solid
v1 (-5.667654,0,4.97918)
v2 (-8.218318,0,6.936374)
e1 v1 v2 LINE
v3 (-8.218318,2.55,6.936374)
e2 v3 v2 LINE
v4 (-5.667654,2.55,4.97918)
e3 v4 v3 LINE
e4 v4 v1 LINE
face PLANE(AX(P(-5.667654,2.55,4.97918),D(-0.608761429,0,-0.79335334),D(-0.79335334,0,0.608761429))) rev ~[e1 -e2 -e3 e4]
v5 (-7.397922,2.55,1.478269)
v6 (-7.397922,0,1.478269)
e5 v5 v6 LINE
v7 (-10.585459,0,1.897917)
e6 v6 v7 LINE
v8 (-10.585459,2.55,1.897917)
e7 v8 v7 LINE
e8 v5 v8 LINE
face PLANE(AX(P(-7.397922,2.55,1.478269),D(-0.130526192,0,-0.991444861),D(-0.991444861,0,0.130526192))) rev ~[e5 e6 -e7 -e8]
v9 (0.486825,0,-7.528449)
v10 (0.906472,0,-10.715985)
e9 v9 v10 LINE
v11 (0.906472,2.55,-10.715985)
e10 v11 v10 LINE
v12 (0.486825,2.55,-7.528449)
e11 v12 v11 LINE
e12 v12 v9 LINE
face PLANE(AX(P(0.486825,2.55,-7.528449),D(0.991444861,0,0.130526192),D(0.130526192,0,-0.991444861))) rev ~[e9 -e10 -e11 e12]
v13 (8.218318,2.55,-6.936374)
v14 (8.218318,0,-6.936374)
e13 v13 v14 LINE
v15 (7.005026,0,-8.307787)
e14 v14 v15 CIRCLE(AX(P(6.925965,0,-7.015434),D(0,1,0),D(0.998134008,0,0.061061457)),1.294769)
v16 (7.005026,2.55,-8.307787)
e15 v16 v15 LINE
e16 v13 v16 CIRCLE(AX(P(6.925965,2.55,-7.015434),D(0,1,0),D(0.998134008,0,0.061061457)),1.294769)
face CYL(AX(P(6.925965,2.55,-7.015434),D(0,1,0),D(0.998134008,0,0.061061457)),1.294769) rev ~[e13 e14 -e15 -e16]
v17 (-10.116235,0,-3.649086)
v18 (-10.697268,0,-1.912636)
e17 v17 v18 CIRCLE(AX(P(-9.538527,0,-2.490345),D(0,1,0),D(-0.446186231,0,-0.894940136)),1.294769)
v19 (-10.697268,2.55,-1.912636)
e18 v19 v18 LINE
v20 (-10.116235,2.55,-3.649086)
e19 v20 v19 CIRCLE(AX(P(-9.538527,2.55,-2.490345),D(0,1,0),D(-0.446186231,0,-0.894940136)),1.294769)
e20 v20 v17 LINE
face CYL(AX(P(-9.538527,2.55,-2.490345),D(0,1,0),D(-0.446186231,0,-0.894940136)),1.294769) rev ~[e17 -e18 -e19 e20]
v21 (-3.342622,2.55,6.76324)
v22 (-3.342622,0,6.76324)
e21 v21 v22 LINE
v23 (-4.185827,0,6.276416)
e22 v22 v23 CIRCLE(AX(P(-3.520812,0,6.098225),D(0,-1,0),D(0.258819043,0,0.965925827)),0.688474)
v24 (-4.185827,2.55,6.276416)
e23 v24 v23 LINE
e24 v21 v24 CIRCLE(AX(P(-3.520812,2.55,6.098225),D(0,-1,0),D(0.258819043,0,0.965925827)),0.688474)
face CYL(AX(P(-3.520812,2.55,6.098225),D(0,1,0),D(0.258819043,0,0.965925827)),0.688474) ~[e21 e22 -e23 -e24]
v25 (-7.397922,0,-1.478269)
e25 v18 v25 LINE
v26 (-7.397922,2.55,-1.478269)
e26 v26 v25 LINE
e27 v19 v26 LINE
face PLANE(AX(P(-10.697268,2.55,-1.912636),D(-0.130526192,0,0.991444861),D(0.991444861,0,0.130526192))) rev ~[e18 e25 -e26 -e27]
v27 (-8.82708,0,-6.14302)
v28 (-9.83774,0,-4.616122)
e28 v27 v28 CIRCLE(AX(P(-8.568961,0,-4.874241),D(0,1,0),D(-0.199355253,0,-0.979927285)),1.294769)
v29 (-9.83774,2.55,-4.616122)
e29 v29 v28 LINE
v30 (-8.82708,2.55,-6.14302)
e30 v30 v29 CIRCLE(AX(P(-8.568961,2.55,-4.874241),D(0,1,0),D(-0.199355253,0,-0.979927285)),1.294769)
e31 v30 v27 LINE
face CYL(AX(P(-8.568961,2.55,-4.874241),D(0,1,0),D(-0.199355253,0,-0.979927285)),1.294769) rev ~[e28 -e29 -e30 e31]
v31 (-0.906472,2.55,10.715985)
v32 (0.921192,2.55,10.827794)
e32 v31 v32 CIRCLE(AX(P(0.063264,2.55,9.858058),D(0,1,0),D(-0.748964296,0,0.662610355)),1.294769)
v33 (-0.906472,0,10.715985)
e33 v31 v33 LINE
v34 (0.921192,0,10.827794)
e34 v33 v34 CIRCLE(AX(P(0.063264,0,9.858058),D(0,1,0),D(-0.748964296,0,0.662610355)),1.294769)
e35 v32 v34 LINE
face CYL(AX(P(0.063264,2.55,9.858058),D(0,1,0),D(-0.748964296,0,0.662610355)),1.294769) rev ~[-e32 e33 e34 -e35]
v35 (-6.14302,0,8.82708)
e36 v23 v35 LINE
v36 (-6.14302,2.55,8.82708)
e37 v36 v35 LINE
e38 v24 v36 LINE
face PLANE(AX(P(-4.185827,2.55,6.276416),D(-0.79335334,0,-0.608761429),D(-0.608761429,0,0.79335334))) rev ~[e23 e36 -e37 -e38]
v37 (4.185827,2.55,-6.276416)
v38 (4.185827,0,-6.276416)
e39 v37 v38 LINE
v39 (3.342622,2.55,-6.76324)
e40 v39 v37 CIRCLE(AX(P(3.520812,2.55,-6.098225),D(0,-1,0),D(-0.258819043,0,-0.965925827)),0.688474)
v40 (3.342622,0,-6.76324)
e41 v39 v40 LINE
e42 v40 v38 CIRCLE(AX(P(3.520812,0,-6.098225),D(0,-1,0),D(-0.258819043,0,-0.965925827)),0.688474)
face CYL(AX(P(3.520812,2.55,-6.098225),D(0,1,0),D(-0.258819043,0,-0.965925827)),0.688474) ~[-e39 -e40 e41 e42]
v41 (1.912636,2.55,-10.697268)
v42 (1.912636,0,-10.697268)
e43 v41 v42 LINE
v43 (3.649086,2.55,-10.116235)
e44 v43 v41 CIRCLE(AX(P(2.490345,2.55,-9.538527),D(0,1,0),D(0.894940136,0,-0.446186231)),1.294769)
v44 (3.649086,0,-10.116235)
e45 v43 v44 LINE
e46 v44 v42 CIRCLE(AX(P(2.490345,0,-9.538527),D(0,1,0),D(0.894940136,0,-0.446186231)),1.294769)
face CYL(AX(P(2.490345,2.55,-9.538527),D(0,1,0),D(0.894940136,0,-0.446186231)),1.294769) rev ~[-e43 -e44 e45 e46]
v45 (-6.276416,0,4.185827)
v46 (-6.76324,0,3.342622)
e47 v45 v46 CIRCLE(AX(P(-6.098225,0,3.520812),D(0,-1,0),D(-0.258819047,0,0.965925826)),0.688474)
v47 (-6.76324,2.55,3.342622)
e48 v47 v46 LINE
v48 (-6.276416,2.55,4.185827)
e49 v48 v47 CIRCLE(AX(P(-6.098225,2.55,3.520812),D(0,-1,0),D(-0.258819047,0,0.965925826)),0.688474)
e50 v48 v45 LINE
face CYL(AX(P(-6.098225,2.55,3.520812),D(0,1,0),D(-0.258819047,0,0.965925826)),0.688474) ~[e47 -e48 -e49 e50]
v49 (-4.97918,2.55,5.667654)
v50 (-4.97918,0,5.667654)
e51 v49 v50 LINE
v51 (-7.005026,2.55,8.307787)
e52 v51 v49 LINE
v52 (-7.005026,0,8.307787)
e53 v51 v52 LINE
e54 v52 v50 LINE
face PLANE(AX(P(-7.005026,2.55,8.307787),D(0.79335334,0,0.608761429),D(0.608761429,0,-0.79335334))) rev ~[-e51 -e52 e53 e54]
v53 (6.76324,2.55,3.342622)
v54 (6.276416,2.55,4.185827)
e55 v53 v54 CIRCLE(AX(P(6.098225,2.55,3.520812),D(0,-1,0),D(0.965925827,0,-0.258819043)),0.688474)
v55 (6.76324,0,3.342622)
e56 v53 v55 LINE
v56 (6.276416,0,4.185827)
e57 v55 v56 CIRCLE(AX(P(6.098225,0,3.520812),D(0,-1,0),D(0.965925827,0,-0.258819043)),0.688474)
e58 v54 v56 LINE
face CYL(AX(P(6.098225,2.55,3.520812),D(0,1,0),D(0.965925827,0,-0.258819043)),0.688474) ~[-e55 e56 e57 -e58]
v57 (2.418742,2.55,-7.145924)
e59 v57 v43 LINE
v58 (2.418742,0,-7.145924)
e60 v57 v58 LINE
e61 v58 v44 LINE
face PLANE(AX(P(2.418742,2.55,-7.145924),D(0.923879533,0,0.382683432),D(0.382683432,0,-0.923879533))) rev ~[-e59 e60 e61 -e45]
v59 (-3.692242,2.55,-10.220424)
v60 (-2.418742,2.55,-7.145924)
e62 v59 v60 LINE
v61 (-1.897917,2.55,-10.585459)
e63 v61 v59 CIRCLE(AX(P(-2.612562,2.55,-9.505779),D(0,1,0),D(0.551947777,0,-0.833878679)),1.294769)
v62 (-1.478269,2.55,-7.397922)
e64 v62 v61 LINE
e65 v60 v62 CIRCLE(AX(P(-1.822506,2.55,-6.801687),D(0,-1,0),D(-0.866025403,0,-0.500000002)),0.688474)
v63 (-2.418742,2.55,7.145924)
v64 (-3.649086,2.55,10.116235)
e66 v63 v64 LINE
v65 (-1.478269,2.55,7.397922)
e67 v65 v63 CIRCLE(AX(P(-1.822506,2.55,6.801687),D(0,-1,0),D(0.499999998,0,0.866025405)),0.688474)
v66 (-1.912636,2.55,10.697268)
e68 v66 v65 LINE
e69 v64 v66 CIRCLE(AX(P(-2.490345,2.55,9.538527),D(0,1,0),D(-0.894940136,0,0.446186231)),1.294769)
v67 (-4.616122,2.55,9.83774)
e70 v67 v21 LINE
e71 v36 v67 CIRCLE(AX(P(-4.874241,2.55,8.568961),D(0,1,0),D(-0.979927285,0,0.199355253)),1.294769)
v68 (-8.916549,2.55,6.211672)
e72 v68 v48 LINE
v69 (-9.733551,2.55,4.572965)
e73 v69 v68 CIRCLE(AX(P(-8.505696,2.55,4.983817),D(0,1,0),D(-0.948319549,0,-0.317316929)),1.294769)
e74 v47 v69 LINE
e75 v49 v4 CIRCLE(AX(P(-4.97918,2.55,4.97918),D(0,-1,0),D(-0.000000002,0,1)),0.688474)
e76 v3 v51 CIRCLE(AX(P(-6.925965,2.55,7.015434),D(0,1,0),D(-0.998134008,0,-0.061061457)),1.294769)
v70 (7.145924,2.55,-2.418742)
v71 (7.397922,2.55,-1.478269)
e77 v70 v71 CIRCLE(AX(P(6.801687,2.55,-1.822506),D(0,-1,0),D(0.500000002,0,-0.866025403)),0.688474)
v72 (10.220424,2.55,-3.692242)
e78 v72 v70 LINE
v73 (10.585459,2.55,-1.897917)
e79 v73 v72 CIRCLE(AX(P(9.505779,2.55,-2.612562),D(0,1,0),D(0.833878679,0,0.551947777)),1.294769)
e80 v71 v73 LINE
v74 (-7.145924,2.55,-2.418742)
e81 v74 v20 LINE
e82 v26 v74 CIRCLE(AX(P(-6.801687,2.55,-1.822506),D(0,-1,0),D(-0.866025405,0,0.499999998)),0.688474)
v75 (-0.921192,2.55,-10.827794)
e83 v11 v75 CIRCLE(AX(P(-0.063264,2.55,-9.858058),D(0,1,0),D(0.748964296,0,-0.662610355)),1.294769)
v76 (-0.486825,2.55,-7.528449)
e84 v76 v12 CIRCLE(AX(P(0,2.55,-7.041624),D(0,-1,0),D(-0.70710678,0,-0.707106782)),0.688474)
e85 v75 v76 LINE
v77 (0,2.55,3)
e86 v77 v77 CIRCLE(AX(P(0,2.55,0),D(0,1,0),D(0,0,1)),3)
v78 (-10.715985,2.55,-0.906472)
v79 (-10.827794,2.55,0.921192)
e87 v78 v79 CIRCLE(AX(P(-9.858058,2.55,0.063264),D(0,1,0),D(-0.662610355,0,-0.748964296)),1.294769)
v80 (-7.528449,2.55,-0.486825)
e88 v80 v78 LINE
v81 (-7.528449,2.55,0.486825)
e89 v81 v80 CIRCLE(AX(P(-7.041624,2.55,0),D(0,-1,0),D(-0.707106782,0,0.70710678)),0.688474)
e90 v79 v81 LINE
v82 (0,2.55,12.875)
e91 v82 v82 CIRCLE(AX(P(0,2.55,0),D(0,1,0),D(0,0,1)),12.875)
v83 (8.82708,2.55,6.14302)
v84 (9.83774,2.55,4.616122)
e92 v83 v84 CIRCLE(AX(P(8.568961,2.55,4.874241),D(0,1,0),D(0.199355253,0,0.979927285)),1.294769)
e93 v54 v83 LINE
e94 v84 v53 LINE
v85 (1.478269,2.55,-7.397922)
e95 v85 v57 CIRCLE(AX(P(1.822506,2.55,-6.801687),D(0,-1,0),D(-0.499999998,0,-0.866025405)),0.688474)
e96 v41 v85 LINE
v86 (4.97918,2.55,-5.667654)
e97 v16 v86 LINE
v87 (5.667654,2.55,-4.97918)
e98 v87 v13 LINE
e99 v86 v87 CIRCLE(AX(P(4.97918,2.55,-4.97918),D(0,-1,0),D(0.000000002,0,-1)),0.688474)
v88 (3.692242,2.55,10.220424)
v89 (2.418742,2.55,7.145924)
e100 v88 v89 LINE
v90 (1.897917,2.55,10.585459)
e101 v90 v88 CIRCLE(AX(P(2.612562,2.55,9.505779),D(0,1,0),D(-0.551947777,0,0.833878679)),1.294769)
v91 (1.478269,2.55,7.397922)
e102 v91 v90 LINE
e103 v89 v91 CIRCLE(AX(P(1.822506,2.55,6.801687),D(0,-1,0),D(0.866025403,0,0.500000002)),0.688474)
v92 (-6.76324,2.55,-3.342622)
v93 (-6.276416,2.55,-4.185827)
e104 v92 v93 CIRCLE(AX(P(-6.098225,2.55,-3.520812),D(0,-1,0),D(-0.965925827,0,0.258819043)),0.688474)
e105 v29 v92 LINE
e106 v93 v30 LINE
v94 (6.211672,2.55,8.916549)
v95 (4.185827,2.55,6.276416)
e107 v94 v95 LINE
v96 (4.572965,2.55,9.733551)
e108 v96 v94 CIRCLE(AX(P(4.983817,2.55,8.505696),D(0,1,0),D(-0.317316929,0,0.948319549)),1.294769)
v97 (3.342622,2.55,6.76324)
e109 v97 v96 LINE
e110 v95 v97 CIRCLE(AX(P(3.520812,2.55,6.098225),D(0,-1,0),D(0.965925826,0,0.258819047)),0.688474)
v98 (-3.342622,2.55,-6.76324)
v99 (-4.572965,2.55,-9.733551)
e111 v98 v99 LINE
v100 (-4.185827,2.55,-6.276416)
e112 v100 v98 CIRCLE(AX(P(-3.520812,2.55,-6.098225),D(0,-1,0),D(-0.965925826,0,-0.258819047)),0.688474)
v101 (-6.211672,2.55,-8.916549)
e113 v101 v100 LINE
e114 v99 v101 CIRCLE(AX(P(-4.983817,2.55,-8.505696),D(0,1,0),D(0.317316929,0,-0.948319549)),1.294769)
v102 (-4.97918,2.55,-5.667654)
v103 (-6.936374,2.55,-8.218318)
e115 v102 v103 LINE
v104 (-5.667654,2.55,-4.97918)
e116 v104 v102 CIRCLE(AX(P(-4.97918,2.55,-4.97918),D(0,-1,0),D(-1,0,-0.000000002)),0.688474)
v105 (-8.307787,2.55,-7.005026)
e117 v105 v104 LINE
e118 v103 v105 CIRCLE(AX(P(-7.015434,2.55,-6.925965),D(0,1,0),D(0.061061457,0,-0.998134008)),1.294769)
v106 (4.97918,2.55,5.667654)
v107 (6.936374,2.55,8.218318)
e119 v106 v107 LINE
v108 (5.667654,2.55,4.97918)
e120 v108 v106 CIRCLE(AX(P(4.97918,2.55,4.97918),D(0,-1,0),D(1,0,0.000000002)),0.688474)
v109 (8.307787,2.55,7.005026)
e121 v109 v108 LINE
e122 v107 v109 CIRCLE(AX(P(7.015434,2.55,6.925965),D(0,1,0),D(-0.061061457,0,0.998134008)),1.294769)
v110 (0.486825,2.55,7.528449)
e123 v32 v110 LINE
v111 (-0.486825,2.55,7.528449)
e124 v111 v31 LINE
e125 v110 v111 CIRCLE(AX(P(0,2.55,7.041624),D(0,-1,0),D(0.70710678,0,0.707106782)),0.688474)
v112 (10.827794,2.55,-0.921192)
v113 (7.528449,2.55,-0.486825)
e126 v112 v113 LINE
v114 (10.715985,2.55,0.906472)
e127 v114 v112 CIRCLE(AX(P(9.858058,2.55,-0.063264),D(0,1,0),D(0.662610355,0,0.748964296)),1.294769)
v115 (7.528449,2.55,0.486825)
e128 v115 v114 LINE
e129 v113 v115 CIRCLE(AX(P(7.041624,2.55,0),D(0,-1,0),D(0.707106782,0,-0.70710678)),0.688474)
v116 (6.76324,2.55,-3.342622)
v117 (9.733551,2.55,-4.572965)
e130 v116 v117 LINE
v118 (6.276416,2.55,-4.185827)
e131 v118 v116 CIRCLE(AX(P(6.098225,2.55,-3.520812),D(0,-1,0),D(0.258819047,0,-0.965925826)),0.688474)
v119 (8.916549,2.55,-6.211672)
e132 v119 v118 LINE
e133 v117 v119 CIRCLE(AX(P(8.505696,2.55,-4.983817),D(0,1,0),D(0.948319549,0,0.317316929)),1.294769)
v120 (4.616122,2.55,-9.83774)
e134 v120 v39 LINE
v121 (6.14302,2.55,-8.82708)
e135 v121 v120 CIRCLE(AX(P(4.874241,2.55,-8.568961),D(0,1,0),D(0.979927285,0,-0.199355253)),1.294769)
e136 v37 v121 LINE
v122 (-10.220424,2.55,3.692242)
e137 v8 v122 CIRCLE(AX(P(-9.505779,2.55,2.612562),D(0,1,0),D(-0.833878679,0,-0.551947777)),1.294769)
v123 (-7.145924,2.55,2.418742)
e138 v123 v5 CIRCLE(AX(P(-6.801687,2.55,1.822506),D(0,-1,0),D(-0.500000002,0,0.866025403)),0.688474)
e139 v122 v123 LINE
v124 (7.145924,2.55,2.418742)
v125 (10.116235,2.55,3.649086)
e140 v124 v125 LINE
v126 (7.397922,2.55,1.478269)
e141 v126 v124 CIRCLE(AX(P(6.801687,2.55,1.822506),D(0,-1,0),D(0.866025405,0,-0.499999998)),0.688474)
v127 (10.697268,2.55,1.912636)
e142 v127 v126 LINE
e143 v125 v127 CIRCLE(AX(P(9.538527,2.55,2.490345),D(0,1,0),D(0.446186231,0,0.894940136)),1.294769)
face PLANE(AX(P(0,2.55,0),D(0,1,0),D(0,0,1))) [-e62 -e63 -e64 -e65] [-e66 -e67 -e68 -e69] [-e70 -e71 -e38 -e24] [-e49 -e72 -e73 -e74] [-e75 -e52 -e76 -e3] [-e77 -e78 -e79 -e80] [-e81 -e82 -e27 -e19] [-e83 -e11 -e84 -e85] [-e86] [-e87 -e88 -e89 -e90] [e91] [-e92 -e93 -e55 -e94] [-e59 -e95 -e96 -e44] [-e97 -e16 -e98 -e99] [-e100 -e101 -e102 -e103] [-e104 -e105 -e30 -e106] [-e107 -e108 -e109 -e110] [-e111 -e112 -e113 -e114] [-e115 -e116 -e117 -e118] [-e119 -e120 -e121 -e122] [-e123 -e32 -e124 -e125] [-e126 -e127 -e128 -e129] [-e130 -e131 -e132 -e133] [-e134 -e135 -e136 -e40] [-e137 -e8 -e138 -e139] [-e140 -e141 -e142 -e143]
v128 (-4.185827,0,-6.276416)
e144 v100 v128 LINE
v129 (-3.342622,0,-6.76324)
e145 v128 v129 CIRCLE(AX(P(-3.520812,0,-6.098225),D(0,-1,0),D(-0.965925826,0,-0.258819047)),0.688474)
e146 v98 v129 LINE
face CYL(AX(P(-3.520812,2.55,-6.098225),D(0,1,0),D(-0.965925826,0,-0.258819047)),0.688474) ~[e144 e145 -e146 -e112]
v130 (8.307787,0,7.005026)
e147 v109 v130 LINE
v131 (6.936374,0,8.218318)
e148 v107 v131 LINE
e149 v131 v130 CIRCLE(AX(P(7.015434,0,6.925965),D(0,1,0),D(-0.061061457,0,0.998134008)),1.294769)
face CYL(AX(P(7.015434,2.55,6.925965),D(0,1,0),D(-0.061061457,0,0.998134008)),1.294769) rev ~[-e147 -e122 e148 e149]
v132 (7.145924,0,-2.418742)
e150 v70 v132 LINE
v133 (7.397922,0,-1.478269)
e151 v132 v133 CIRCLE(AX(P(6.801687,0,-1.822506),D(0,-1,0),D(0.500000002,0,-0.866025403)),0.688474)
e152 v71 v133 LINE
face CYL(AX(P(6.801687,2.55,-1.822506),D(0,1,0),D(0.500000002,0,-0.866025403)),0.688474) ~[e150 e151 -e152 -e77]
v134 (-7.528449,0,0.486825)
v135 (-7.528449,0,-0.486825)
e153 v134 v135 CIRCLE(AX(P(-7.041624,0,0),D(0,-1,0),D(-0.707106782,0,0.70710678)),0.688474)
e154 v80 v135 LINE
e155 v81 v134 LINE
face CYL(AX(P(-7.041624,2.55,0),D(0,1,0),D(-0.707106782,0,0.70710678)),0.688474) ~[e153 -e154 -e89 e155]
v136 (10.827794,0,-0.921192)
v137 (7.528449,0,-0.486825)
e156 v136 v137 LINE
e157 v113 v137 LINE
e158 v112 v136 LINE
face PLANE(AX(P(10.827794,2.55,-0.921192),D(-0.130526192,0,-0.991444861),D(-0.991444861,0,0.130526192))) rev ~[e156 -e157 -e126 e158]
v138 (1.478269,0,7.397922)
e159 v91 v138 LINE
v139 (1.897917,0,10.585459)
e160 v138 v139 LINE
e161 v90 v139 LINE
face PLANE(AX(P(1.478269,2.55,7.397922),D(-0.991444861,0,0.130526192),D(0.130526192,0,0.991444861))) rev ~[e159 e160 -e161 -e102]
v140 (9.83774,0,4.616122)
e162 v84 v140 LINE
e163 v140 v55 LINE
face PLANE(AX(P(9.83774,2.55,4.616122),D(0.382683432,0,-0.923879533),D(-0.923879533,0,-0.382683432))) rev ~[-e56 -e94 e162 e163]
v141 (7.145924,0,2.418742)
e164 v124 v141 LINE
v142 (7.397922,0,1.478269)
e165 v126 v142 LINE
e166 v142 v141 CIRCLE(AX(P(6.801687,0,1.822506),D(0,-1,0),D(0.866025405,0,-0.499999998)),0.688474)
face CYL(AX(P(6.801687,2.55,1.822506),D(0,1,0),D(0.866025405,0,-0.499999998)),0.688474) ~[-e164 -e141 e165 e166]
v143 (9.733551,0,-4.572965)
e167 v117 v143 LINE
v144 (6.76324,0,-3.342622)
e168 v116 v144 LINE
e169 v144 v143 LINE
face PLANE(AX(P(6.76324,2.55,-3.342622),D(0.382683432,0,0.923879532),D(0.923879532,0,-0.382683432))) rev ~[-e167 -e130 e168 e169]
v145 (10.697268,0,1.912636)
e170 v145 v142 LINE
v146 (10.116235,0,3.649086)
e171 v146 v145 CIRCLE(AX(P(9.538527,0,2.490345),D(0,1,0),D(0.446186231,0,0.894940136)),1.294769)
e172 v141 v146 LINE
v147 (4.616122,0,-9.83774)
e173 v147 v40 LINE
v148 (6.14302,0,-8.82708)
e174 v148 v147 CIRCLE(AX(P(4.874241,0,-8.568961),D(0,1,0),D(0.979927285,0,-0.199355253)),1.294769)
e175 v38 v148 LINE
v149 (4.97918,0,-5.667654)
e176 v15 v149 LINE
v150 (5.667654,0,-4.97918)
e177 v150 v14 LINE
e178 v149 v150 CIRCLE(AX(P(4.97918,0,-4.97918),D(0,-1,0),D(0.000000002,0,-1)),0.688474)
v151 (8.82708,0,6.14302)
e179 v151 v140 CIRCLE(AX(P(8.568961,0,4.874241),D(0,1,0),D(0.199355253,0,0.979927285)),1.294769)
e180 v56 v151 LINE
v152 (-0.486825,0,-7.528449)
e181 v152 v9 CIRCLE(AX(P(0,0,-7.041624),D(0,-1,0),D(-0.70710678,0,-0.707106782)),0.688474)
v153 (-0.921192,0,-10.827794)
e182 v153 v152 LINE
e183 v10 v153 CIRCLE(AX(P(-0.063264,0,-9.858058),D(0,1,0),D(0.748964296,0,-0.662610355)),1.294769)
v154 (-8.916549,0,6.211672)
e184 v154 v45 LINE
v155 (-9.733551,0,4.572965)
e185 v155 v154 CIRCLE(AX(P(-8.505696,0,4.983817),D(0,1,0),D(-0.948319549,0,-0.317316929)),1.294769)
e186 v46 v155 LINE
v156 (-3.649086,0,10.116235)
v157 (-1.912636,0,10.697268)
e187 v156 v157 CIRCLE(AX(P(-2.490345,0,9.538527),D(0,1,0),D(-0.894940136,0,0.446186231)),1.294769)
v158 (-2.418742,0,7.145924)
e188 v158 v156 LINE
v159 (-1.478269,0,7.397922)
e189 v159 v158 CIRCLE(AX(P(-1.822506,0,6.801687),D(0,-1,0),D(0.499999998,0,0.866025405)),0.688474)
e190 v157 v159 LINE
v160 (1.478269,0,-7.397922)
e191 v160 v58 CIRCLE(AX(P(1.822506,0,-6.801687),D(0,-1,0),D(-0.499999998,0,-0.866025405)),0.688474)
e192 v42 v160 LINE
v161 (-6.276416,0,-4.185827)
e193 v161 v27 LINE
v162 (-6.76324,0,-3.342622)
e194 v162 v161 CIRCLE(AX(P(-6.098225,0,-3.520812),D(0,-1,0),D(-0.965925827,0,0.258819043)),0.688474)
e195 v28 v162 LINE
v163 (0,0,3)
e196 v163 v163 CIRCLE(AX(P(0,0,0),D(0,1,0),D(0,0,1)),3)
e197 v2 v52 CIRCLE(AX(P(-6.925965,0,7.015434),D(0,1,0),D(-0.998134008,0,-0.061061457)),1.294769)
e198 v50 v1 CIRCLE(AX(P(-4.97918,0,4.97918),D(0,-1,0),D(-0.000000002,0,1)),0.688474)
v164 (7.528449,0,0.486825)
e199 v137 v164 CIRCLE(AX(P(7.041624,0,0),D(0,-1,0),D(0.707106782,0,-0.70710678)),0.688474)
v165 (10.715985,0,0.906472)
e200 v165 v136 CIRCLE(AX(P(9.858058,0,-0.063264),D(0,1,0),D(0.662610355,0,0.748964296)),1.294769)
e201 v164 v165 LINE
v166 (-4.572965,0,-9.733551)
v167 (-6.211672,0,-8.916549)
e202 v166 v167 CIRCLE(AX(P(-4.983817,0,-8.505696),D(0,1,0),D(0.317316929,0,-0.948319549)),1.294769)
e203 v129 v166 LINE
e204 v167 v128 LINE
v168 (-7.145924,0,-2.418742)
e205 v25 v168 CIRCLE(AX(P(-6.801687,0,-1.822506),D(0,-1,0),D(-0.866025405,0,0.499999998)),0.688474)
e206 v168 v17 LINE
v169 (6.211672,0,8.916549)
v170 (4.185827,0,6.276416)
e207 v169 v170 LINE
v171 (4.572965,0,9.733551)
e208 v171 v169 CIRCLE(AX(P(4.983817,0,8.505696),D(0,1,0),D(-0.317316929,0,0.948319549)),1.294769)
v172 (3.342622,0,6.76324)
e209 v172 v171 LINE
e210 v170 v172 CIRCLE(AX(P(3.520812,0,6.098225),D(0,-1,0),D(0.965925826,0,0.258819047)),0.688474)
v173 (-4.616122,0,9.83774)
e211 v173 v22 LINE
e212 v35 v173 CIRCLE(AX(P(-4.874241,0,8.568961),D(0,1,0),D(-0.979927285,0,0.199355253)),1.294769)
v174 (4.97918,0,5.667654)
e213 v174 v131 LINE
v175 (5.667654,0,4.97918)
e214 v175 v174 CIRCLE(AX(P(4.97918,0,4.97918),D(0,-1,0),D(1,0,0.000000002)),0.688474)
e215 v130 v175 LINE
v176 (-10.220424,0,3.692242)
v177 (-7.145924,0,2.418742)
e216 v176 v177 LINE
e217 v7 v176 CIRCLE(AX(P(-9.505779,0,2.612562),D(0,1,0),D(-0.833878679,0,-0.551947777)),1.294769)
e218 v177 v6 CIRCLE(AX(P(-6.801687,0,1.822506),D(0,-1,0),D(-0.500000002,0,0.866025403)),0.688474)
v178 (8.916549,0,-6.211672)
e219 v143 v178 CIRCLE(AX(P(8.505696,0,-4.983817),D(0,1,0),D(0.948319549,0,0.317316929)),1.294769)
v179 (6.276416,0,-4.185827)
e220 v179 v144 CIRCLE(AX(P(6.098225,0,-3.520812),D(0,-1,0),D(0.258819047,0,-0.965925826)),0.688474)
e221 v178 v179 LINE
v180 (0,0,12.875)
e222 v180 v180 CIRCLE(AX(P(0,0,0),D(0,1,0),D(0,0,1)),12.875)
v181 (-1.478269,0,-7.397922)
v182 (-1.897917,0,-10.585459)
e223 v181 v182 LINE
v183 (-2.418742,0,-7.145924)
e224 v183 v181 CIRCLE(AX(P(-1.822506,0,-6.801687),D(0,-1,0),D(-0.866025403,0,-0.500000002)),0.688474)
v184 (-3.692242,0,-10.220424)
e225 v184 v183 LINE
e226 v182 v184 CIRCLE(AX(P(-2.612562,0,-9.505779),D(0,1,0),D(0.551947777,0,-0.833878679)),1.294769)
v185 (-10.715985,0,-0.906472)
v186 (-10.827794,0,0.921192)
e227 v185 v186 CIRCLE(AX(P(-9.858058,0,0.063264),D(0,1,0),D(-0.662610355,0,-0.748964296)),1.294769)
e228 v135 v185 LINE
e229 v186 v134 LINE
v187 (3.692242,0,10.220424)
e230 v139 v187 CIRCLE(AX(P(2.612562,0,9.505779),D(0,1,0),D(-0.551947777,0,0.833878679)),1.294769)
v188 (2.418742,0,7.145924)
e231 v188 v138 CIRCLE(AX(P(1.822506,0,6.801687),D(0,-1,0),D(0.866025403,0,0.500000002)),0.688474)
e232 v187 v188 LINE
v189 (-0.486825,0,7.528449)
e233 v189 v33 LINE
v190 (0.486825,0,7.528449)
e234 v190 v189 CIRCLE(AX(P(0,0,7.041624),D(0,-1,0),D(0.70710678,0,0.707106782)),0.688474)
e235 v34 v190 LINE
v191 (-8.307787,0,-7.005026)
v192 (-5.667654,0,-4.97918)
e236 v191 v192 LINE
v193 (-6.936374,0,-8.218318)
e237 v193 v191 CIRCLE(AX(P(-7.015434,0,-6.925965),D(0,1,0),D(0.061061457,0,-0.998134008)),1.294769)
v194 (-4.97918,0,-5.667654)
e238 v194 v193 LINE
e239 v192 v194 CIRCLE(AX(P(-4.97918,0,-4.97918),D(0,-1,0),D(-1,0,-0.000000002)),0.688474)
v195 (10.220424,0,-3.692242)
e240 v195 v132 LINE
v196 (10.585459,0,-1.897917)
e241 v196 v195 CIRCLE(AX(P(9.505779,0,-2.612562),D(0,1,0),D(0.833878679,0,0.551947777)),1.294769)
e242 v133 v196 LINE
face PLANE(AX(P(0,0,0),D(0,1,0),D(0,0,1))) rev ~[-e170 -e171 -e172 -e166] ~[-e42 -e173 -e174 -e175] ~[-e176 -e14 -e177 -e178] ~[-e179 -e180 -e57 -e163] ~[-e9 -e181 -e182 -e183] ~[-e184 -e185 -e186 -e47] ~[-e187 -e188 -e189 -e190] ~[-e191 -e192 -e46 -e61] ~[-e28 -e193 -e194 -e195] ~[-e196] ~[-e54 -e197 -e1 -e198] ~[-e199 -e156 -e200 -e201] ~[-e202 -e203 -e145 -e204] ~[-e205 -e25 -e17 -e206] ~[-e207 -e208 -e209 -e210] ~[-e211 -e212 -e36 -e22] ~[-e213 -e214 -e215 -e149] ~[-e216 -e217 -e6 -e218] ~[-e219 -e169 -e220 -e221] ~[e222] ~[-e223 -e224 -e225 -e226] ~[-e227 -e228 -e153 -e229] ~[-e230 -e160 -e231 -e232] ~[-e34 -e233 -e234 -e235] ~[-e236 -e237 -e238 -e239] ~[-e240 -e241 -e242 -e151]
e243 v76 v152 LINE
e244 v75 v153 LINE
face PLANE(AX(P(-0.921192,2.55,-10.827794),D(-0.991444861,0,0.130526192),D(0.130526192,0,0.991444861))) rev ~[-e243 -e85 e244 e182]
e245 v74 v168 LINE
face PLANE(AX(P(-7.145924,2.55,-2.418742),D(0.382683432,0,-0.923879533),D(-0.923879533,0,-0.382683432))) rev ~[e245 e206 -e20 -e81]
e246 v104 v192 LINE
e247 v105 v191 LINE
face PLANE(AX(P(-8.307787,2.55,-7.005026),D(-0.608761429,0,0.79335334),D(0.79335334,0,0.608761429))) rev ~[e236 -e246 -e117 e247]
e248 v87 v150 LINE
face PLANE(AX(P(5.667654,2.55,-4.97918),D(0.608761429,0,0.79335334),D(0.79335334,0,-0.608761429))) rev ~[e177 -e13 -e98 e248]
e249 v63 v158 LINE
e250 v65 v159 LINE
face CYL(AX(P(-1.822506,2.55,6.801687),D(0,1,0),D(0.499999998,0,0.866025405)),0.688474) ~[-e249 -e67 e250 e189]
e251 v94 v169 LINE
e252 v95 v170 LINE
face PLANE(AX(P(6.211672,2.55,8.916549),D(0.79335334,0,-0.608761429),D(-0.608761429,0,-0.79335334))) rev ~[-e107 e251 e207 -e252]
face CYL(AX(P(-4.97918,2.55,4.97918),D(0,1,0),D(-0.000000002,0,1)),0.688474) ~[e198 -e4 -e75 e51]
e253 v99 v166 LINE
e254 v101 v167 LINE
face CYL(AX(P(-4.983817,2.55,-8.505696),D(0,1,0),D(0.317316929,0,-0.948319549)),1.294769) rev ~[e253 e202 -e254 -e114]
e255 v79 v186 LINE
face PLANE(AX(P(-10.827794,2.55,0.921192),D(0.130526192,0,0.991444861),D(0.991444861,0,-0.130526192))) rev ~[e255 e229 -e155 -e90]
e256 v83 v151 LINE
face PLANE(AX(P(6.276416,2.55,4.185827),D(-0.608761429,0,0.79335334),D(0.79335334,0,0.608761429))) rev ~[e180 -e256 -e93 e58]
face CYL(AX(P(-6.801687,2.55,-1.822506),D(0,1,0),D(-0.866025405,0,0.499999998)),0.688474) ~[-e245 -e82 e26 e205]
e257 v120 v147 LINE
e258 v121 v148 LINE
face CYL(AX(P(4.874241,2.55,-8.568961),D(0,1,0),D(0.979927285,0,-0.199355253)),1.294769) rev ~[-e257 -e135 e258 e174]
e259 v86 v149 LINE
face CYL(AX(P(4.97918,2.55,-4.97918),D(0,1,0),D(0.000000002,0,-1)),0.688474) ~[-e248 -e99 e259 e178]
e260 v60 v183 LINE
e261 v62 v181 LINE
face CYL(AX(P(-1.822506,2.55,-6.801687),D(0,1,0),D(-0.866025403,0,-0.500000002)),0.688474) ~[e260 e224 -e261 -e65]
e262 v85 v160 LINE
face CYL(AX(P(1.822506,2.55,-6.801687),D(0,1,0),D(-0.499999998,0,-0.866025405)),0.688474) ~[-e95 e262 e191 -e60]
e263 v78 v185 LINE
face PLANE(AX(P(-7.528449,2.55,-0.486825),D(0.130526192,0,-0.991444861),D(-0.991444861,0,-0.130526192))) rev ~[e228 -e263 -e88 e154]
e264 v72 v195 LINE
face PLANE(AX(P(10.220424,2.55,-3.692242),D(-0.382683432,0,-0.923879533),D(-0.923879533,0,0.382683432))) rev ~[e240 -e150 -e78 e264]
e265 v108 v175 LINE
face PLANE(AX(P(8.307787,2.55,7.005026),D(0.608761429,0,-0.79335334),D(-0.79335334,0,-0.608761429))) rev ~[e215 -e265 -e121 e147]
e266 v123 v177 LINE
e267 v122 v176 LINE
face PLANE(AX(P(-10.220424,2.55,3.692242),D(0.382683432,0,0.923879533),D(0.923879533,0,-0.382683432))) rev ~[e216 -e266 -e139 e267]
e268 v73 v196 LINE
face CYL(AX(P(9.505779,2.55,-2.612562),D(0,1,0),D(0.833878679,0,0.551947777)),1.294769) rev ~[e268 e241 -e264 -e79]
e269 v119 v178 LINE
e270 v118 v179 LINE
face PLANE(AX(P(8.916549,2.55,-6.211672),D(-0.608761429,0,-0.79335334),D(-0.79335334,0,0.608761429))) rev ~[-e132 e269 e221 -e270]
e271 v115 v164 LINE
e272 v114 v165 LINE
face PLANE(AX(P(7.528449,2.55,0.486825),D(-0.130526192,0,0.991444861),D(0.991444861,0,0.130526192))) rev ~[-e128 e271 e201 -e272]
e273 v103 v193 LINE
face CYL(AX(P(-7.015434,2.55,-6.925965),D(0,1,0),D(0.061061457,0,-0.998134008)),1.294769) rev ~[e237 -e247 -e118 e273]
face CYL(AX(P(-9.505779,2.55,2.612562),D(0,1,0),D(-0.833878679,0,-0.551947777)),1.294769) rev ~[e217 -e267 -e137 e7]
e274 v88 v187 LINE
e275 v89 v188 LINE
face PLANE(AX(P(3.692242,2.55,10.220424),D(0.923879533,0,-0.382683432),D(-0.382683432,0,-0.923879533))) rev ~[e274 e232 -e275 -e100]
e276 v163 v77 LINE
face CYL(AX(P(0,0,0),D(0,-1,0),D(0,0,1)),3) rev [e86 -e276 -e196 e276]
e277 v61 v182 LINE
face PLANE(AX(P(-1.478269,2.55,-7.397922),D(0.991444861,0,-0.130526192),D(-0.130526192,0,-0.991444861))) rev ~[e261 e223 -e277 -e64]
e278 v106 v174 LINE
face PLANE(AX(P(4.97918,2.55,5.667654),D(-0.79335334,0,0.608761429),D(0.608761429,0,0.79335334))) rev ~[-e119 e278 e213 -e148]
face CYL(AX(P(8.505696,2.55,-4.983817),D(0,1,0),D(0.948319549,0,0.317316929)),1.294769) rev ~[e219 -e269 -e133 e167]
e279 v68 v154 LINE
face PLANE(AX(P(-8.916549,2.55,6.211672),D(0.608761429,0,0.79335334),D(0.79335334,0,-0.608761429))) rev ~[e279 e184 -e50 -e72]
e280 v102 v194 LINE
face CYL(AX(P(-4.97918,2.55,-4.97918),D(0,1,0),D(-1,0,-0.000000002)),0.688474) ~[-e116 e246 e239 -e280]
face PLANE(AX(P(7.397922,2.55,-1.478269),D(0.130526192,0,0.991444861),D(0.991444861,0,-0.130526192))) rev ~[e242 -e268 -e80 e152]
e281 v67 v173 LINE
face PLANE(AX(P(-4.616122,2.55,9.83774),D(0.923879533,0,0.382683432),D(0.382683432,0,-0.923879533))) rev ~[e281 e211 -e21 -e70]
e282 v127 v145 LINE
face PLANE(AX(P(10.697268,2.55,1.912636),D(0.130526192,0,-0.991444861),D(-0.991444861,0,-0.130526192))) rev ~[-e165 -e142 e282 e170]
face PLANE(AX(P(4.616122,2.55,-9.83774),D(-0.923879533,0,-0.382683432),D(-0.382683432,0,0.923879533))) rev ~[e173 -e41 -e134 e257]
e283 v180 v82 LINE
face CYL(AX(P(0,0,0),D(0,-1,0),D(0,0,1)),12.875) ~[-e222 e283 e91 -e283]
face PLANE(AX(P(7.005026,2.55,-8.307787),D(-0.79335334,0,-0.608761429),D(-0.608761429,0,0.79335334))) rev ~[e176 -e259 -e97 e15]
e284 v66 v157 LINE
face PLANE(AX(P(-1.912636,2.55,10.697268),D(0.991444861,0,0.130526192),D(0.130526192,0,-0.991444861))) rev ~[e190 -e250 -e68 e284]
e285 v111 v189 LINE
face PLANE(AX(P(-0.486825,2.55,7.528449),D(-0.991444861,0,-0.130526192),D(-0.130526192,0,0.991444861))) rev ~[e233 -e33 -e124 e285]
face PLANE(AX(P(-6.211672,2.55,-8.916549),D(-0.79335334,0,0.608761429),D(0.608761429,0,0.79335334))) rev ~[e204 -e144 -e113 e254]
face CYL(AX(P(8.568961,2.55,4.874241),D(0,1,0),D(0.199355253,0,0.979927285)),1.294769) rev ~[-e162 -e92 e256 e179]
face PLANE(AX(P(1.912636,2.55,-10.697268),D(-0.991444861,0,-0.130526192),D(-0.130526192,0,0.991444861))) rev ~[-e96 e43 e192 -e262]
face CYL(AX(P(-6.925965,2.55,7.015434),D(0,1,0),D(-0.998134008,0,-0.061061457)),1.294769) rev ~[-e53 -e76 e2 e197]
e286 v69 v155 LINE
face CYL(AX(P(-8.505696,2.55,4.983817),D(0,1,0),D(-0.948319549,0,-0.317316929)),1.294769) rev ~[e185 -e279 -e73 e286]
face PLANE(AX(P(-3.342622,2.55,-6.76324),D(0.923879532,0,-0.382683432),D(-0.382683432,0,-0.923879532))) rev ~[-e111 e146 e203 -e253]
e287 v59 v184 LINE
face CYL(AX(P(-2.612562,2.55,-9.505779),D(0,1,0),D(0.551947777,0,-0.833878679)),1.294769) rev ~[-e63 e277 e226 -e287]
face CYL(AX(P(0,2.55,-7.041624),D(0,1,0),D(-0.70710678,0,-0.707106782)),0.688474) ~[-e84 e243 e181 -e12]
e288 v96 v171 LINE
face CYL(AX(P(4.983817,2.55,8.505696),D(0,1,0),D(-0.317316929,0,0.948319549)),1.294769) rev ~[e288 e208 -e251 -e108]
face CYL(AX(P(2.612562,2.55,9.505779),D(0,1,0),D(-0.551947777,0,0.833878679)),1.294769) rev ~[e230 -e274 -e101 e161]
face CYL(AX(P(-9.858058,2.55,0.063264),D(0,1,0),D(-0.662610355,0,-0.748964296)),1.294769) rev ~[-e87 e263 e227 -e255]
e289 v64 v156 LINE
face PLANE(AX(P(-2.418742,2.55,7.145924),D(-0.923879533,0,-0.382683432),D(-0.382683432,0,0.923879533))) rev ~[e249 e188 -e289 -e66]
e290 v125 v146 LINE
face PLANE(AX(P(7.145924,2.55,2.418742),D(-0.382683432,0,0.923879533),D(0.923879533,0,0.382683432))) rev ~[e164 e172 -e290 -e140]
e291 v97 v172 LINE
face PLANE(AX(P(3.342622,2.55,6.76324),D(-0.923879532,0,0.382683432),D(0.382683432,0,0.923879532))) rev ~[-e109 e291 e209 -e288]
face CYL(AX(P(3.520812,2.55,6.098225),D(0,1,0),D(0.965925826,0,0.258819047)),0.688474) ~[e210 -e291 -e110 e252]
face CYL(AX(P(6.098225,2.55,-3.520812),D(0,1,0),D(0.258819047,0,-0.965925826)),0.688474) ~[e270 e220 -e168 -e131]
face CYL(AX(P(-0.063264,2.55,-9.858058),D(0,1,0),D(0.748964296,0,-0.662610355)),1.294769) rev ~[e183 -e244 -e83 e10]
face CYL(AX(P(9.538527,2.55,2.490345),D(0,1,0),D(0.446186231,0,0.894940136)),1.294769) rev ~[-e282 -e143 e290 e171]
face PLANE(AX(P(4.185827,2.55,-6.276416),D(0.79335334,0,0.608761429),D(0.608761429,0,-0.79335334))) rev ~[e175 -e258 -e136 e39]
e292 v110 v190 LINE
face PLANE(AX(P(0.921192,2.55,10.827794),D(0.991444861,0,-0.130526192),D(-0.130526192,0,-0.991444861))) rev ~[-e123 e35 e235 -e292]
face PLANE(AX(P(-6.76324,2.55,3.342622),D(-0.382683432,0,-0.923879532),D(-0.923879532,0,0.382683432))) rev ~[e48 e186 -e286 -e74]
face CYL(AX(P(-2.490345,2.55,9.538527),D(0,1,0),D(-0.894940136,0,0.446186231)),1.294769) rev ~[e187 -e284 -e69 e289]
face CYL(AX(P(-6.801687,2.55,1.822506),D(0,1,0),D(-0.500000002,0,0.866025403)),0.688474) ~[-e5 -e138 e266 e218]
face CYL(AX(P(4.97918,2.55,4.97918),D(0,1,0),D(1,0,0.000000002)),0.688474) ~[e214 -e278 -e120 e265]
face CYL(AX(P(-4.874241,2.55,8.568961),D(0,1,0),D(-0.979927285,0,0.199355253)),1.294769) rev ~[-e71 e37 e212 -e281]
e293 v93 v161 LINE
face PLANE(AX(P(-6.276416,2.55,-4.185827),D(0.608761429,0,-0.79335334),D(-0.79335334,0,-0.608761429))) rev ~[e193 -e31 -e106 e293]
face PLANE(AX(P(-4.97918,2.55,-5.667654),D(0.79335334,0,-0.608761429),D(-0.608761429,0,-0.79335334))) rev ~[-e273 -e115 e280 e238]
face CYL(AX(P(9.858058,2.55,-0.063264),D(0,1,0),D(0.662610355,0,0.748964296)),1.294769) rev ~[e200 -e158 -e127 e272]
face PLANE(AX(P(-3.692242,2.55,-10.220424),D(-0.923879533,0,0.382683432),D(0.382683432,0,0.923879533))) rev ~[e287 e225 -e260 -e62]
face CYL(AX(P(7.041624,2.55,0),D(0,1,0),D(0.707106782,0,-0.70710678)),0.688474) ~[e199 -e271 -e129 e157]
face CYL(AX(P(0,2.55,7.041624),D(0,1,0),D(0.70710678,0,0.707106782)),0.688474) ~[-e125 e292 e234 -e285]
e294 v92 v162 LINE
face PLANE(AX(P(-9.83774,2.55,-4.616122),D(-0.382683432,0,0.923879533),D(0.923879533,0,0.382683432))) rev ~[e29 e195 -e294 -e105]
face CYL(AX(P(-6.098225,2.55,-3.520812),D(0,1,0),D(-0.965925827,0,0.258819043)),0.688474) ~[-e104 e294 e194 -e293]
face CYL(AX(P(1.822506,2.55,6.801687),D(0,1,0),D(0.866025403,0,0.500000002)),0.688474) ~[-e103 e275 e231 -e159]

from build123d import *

# Parameters (mm, degrees)
SKETCH2_R           = 12.875
SKETCH2_R_2         = 3
BOSS_EXTRUDE1_DEPTH = 2.55
CUT_EXTRUDE1_DEPTH  = 2.55
CIRPATTERN1_COUNT   = 24


with BuildPart() as part:
    # Sketch2 → Boss-Extrude1 (new body)
    with BuildSketch(Plane(origin=(0, 0, 0), x_dir=(1, 0, 0), z_dir=(0, 1, 0))):
        with Locations(Location((0, 0, 0), (0, 0, 270))):
            Circle(SKETCH2_R)
        with Locations(Location((0, 0, 0), (0, 0, 270))):
            Circle(SKETCH2_R_2, mode=Mode.SUBTRACT)
    extrude(amount=BOSS_EXTRUDE1_DEPTH)

    # Sketch4 → Cut-Extrude1 (cut)
    with BuildSketch(Plane(origin=(0, 2.55, 0), x_dir=(1, 0, 0), z_dir=(0, 1, 0))):
        with BuildLine():
            Line((0.486824592, 7.528448687), (0.906471755, 10.715985352))
            ThreePointArc((0.906471755, 10.715985352), (0.015796353, 11.15041104), (-0.921191613, 10.827793773))
            Line((-0.921191613, 10.827793773), (-0.486824592, 7.528448687))
            ThreePointArc((-0.486824592, 7.528448687), (0, 7.730098035), (0.486824592, 7.528448687))
        make_face()
    cut_extrude1 = extrude(amount=-CUT_EXTRUDE1_DEPTH, mode=Mode.SUBTRACT)

    # CirPattern1: Cut-Extrude1 ×24 about axis
    cirpattern1_axis = Axis((0, 0, 0), (0, 1, 0))
    for i in range(1, CIRPATTERN1_COUNT):
        add(cut_extrude1.rotate(cirpattern1_axis, i * 360 / CIRPATTERN1_COUNT), mode=Mode.SUBTRACT)


solid = part.part
